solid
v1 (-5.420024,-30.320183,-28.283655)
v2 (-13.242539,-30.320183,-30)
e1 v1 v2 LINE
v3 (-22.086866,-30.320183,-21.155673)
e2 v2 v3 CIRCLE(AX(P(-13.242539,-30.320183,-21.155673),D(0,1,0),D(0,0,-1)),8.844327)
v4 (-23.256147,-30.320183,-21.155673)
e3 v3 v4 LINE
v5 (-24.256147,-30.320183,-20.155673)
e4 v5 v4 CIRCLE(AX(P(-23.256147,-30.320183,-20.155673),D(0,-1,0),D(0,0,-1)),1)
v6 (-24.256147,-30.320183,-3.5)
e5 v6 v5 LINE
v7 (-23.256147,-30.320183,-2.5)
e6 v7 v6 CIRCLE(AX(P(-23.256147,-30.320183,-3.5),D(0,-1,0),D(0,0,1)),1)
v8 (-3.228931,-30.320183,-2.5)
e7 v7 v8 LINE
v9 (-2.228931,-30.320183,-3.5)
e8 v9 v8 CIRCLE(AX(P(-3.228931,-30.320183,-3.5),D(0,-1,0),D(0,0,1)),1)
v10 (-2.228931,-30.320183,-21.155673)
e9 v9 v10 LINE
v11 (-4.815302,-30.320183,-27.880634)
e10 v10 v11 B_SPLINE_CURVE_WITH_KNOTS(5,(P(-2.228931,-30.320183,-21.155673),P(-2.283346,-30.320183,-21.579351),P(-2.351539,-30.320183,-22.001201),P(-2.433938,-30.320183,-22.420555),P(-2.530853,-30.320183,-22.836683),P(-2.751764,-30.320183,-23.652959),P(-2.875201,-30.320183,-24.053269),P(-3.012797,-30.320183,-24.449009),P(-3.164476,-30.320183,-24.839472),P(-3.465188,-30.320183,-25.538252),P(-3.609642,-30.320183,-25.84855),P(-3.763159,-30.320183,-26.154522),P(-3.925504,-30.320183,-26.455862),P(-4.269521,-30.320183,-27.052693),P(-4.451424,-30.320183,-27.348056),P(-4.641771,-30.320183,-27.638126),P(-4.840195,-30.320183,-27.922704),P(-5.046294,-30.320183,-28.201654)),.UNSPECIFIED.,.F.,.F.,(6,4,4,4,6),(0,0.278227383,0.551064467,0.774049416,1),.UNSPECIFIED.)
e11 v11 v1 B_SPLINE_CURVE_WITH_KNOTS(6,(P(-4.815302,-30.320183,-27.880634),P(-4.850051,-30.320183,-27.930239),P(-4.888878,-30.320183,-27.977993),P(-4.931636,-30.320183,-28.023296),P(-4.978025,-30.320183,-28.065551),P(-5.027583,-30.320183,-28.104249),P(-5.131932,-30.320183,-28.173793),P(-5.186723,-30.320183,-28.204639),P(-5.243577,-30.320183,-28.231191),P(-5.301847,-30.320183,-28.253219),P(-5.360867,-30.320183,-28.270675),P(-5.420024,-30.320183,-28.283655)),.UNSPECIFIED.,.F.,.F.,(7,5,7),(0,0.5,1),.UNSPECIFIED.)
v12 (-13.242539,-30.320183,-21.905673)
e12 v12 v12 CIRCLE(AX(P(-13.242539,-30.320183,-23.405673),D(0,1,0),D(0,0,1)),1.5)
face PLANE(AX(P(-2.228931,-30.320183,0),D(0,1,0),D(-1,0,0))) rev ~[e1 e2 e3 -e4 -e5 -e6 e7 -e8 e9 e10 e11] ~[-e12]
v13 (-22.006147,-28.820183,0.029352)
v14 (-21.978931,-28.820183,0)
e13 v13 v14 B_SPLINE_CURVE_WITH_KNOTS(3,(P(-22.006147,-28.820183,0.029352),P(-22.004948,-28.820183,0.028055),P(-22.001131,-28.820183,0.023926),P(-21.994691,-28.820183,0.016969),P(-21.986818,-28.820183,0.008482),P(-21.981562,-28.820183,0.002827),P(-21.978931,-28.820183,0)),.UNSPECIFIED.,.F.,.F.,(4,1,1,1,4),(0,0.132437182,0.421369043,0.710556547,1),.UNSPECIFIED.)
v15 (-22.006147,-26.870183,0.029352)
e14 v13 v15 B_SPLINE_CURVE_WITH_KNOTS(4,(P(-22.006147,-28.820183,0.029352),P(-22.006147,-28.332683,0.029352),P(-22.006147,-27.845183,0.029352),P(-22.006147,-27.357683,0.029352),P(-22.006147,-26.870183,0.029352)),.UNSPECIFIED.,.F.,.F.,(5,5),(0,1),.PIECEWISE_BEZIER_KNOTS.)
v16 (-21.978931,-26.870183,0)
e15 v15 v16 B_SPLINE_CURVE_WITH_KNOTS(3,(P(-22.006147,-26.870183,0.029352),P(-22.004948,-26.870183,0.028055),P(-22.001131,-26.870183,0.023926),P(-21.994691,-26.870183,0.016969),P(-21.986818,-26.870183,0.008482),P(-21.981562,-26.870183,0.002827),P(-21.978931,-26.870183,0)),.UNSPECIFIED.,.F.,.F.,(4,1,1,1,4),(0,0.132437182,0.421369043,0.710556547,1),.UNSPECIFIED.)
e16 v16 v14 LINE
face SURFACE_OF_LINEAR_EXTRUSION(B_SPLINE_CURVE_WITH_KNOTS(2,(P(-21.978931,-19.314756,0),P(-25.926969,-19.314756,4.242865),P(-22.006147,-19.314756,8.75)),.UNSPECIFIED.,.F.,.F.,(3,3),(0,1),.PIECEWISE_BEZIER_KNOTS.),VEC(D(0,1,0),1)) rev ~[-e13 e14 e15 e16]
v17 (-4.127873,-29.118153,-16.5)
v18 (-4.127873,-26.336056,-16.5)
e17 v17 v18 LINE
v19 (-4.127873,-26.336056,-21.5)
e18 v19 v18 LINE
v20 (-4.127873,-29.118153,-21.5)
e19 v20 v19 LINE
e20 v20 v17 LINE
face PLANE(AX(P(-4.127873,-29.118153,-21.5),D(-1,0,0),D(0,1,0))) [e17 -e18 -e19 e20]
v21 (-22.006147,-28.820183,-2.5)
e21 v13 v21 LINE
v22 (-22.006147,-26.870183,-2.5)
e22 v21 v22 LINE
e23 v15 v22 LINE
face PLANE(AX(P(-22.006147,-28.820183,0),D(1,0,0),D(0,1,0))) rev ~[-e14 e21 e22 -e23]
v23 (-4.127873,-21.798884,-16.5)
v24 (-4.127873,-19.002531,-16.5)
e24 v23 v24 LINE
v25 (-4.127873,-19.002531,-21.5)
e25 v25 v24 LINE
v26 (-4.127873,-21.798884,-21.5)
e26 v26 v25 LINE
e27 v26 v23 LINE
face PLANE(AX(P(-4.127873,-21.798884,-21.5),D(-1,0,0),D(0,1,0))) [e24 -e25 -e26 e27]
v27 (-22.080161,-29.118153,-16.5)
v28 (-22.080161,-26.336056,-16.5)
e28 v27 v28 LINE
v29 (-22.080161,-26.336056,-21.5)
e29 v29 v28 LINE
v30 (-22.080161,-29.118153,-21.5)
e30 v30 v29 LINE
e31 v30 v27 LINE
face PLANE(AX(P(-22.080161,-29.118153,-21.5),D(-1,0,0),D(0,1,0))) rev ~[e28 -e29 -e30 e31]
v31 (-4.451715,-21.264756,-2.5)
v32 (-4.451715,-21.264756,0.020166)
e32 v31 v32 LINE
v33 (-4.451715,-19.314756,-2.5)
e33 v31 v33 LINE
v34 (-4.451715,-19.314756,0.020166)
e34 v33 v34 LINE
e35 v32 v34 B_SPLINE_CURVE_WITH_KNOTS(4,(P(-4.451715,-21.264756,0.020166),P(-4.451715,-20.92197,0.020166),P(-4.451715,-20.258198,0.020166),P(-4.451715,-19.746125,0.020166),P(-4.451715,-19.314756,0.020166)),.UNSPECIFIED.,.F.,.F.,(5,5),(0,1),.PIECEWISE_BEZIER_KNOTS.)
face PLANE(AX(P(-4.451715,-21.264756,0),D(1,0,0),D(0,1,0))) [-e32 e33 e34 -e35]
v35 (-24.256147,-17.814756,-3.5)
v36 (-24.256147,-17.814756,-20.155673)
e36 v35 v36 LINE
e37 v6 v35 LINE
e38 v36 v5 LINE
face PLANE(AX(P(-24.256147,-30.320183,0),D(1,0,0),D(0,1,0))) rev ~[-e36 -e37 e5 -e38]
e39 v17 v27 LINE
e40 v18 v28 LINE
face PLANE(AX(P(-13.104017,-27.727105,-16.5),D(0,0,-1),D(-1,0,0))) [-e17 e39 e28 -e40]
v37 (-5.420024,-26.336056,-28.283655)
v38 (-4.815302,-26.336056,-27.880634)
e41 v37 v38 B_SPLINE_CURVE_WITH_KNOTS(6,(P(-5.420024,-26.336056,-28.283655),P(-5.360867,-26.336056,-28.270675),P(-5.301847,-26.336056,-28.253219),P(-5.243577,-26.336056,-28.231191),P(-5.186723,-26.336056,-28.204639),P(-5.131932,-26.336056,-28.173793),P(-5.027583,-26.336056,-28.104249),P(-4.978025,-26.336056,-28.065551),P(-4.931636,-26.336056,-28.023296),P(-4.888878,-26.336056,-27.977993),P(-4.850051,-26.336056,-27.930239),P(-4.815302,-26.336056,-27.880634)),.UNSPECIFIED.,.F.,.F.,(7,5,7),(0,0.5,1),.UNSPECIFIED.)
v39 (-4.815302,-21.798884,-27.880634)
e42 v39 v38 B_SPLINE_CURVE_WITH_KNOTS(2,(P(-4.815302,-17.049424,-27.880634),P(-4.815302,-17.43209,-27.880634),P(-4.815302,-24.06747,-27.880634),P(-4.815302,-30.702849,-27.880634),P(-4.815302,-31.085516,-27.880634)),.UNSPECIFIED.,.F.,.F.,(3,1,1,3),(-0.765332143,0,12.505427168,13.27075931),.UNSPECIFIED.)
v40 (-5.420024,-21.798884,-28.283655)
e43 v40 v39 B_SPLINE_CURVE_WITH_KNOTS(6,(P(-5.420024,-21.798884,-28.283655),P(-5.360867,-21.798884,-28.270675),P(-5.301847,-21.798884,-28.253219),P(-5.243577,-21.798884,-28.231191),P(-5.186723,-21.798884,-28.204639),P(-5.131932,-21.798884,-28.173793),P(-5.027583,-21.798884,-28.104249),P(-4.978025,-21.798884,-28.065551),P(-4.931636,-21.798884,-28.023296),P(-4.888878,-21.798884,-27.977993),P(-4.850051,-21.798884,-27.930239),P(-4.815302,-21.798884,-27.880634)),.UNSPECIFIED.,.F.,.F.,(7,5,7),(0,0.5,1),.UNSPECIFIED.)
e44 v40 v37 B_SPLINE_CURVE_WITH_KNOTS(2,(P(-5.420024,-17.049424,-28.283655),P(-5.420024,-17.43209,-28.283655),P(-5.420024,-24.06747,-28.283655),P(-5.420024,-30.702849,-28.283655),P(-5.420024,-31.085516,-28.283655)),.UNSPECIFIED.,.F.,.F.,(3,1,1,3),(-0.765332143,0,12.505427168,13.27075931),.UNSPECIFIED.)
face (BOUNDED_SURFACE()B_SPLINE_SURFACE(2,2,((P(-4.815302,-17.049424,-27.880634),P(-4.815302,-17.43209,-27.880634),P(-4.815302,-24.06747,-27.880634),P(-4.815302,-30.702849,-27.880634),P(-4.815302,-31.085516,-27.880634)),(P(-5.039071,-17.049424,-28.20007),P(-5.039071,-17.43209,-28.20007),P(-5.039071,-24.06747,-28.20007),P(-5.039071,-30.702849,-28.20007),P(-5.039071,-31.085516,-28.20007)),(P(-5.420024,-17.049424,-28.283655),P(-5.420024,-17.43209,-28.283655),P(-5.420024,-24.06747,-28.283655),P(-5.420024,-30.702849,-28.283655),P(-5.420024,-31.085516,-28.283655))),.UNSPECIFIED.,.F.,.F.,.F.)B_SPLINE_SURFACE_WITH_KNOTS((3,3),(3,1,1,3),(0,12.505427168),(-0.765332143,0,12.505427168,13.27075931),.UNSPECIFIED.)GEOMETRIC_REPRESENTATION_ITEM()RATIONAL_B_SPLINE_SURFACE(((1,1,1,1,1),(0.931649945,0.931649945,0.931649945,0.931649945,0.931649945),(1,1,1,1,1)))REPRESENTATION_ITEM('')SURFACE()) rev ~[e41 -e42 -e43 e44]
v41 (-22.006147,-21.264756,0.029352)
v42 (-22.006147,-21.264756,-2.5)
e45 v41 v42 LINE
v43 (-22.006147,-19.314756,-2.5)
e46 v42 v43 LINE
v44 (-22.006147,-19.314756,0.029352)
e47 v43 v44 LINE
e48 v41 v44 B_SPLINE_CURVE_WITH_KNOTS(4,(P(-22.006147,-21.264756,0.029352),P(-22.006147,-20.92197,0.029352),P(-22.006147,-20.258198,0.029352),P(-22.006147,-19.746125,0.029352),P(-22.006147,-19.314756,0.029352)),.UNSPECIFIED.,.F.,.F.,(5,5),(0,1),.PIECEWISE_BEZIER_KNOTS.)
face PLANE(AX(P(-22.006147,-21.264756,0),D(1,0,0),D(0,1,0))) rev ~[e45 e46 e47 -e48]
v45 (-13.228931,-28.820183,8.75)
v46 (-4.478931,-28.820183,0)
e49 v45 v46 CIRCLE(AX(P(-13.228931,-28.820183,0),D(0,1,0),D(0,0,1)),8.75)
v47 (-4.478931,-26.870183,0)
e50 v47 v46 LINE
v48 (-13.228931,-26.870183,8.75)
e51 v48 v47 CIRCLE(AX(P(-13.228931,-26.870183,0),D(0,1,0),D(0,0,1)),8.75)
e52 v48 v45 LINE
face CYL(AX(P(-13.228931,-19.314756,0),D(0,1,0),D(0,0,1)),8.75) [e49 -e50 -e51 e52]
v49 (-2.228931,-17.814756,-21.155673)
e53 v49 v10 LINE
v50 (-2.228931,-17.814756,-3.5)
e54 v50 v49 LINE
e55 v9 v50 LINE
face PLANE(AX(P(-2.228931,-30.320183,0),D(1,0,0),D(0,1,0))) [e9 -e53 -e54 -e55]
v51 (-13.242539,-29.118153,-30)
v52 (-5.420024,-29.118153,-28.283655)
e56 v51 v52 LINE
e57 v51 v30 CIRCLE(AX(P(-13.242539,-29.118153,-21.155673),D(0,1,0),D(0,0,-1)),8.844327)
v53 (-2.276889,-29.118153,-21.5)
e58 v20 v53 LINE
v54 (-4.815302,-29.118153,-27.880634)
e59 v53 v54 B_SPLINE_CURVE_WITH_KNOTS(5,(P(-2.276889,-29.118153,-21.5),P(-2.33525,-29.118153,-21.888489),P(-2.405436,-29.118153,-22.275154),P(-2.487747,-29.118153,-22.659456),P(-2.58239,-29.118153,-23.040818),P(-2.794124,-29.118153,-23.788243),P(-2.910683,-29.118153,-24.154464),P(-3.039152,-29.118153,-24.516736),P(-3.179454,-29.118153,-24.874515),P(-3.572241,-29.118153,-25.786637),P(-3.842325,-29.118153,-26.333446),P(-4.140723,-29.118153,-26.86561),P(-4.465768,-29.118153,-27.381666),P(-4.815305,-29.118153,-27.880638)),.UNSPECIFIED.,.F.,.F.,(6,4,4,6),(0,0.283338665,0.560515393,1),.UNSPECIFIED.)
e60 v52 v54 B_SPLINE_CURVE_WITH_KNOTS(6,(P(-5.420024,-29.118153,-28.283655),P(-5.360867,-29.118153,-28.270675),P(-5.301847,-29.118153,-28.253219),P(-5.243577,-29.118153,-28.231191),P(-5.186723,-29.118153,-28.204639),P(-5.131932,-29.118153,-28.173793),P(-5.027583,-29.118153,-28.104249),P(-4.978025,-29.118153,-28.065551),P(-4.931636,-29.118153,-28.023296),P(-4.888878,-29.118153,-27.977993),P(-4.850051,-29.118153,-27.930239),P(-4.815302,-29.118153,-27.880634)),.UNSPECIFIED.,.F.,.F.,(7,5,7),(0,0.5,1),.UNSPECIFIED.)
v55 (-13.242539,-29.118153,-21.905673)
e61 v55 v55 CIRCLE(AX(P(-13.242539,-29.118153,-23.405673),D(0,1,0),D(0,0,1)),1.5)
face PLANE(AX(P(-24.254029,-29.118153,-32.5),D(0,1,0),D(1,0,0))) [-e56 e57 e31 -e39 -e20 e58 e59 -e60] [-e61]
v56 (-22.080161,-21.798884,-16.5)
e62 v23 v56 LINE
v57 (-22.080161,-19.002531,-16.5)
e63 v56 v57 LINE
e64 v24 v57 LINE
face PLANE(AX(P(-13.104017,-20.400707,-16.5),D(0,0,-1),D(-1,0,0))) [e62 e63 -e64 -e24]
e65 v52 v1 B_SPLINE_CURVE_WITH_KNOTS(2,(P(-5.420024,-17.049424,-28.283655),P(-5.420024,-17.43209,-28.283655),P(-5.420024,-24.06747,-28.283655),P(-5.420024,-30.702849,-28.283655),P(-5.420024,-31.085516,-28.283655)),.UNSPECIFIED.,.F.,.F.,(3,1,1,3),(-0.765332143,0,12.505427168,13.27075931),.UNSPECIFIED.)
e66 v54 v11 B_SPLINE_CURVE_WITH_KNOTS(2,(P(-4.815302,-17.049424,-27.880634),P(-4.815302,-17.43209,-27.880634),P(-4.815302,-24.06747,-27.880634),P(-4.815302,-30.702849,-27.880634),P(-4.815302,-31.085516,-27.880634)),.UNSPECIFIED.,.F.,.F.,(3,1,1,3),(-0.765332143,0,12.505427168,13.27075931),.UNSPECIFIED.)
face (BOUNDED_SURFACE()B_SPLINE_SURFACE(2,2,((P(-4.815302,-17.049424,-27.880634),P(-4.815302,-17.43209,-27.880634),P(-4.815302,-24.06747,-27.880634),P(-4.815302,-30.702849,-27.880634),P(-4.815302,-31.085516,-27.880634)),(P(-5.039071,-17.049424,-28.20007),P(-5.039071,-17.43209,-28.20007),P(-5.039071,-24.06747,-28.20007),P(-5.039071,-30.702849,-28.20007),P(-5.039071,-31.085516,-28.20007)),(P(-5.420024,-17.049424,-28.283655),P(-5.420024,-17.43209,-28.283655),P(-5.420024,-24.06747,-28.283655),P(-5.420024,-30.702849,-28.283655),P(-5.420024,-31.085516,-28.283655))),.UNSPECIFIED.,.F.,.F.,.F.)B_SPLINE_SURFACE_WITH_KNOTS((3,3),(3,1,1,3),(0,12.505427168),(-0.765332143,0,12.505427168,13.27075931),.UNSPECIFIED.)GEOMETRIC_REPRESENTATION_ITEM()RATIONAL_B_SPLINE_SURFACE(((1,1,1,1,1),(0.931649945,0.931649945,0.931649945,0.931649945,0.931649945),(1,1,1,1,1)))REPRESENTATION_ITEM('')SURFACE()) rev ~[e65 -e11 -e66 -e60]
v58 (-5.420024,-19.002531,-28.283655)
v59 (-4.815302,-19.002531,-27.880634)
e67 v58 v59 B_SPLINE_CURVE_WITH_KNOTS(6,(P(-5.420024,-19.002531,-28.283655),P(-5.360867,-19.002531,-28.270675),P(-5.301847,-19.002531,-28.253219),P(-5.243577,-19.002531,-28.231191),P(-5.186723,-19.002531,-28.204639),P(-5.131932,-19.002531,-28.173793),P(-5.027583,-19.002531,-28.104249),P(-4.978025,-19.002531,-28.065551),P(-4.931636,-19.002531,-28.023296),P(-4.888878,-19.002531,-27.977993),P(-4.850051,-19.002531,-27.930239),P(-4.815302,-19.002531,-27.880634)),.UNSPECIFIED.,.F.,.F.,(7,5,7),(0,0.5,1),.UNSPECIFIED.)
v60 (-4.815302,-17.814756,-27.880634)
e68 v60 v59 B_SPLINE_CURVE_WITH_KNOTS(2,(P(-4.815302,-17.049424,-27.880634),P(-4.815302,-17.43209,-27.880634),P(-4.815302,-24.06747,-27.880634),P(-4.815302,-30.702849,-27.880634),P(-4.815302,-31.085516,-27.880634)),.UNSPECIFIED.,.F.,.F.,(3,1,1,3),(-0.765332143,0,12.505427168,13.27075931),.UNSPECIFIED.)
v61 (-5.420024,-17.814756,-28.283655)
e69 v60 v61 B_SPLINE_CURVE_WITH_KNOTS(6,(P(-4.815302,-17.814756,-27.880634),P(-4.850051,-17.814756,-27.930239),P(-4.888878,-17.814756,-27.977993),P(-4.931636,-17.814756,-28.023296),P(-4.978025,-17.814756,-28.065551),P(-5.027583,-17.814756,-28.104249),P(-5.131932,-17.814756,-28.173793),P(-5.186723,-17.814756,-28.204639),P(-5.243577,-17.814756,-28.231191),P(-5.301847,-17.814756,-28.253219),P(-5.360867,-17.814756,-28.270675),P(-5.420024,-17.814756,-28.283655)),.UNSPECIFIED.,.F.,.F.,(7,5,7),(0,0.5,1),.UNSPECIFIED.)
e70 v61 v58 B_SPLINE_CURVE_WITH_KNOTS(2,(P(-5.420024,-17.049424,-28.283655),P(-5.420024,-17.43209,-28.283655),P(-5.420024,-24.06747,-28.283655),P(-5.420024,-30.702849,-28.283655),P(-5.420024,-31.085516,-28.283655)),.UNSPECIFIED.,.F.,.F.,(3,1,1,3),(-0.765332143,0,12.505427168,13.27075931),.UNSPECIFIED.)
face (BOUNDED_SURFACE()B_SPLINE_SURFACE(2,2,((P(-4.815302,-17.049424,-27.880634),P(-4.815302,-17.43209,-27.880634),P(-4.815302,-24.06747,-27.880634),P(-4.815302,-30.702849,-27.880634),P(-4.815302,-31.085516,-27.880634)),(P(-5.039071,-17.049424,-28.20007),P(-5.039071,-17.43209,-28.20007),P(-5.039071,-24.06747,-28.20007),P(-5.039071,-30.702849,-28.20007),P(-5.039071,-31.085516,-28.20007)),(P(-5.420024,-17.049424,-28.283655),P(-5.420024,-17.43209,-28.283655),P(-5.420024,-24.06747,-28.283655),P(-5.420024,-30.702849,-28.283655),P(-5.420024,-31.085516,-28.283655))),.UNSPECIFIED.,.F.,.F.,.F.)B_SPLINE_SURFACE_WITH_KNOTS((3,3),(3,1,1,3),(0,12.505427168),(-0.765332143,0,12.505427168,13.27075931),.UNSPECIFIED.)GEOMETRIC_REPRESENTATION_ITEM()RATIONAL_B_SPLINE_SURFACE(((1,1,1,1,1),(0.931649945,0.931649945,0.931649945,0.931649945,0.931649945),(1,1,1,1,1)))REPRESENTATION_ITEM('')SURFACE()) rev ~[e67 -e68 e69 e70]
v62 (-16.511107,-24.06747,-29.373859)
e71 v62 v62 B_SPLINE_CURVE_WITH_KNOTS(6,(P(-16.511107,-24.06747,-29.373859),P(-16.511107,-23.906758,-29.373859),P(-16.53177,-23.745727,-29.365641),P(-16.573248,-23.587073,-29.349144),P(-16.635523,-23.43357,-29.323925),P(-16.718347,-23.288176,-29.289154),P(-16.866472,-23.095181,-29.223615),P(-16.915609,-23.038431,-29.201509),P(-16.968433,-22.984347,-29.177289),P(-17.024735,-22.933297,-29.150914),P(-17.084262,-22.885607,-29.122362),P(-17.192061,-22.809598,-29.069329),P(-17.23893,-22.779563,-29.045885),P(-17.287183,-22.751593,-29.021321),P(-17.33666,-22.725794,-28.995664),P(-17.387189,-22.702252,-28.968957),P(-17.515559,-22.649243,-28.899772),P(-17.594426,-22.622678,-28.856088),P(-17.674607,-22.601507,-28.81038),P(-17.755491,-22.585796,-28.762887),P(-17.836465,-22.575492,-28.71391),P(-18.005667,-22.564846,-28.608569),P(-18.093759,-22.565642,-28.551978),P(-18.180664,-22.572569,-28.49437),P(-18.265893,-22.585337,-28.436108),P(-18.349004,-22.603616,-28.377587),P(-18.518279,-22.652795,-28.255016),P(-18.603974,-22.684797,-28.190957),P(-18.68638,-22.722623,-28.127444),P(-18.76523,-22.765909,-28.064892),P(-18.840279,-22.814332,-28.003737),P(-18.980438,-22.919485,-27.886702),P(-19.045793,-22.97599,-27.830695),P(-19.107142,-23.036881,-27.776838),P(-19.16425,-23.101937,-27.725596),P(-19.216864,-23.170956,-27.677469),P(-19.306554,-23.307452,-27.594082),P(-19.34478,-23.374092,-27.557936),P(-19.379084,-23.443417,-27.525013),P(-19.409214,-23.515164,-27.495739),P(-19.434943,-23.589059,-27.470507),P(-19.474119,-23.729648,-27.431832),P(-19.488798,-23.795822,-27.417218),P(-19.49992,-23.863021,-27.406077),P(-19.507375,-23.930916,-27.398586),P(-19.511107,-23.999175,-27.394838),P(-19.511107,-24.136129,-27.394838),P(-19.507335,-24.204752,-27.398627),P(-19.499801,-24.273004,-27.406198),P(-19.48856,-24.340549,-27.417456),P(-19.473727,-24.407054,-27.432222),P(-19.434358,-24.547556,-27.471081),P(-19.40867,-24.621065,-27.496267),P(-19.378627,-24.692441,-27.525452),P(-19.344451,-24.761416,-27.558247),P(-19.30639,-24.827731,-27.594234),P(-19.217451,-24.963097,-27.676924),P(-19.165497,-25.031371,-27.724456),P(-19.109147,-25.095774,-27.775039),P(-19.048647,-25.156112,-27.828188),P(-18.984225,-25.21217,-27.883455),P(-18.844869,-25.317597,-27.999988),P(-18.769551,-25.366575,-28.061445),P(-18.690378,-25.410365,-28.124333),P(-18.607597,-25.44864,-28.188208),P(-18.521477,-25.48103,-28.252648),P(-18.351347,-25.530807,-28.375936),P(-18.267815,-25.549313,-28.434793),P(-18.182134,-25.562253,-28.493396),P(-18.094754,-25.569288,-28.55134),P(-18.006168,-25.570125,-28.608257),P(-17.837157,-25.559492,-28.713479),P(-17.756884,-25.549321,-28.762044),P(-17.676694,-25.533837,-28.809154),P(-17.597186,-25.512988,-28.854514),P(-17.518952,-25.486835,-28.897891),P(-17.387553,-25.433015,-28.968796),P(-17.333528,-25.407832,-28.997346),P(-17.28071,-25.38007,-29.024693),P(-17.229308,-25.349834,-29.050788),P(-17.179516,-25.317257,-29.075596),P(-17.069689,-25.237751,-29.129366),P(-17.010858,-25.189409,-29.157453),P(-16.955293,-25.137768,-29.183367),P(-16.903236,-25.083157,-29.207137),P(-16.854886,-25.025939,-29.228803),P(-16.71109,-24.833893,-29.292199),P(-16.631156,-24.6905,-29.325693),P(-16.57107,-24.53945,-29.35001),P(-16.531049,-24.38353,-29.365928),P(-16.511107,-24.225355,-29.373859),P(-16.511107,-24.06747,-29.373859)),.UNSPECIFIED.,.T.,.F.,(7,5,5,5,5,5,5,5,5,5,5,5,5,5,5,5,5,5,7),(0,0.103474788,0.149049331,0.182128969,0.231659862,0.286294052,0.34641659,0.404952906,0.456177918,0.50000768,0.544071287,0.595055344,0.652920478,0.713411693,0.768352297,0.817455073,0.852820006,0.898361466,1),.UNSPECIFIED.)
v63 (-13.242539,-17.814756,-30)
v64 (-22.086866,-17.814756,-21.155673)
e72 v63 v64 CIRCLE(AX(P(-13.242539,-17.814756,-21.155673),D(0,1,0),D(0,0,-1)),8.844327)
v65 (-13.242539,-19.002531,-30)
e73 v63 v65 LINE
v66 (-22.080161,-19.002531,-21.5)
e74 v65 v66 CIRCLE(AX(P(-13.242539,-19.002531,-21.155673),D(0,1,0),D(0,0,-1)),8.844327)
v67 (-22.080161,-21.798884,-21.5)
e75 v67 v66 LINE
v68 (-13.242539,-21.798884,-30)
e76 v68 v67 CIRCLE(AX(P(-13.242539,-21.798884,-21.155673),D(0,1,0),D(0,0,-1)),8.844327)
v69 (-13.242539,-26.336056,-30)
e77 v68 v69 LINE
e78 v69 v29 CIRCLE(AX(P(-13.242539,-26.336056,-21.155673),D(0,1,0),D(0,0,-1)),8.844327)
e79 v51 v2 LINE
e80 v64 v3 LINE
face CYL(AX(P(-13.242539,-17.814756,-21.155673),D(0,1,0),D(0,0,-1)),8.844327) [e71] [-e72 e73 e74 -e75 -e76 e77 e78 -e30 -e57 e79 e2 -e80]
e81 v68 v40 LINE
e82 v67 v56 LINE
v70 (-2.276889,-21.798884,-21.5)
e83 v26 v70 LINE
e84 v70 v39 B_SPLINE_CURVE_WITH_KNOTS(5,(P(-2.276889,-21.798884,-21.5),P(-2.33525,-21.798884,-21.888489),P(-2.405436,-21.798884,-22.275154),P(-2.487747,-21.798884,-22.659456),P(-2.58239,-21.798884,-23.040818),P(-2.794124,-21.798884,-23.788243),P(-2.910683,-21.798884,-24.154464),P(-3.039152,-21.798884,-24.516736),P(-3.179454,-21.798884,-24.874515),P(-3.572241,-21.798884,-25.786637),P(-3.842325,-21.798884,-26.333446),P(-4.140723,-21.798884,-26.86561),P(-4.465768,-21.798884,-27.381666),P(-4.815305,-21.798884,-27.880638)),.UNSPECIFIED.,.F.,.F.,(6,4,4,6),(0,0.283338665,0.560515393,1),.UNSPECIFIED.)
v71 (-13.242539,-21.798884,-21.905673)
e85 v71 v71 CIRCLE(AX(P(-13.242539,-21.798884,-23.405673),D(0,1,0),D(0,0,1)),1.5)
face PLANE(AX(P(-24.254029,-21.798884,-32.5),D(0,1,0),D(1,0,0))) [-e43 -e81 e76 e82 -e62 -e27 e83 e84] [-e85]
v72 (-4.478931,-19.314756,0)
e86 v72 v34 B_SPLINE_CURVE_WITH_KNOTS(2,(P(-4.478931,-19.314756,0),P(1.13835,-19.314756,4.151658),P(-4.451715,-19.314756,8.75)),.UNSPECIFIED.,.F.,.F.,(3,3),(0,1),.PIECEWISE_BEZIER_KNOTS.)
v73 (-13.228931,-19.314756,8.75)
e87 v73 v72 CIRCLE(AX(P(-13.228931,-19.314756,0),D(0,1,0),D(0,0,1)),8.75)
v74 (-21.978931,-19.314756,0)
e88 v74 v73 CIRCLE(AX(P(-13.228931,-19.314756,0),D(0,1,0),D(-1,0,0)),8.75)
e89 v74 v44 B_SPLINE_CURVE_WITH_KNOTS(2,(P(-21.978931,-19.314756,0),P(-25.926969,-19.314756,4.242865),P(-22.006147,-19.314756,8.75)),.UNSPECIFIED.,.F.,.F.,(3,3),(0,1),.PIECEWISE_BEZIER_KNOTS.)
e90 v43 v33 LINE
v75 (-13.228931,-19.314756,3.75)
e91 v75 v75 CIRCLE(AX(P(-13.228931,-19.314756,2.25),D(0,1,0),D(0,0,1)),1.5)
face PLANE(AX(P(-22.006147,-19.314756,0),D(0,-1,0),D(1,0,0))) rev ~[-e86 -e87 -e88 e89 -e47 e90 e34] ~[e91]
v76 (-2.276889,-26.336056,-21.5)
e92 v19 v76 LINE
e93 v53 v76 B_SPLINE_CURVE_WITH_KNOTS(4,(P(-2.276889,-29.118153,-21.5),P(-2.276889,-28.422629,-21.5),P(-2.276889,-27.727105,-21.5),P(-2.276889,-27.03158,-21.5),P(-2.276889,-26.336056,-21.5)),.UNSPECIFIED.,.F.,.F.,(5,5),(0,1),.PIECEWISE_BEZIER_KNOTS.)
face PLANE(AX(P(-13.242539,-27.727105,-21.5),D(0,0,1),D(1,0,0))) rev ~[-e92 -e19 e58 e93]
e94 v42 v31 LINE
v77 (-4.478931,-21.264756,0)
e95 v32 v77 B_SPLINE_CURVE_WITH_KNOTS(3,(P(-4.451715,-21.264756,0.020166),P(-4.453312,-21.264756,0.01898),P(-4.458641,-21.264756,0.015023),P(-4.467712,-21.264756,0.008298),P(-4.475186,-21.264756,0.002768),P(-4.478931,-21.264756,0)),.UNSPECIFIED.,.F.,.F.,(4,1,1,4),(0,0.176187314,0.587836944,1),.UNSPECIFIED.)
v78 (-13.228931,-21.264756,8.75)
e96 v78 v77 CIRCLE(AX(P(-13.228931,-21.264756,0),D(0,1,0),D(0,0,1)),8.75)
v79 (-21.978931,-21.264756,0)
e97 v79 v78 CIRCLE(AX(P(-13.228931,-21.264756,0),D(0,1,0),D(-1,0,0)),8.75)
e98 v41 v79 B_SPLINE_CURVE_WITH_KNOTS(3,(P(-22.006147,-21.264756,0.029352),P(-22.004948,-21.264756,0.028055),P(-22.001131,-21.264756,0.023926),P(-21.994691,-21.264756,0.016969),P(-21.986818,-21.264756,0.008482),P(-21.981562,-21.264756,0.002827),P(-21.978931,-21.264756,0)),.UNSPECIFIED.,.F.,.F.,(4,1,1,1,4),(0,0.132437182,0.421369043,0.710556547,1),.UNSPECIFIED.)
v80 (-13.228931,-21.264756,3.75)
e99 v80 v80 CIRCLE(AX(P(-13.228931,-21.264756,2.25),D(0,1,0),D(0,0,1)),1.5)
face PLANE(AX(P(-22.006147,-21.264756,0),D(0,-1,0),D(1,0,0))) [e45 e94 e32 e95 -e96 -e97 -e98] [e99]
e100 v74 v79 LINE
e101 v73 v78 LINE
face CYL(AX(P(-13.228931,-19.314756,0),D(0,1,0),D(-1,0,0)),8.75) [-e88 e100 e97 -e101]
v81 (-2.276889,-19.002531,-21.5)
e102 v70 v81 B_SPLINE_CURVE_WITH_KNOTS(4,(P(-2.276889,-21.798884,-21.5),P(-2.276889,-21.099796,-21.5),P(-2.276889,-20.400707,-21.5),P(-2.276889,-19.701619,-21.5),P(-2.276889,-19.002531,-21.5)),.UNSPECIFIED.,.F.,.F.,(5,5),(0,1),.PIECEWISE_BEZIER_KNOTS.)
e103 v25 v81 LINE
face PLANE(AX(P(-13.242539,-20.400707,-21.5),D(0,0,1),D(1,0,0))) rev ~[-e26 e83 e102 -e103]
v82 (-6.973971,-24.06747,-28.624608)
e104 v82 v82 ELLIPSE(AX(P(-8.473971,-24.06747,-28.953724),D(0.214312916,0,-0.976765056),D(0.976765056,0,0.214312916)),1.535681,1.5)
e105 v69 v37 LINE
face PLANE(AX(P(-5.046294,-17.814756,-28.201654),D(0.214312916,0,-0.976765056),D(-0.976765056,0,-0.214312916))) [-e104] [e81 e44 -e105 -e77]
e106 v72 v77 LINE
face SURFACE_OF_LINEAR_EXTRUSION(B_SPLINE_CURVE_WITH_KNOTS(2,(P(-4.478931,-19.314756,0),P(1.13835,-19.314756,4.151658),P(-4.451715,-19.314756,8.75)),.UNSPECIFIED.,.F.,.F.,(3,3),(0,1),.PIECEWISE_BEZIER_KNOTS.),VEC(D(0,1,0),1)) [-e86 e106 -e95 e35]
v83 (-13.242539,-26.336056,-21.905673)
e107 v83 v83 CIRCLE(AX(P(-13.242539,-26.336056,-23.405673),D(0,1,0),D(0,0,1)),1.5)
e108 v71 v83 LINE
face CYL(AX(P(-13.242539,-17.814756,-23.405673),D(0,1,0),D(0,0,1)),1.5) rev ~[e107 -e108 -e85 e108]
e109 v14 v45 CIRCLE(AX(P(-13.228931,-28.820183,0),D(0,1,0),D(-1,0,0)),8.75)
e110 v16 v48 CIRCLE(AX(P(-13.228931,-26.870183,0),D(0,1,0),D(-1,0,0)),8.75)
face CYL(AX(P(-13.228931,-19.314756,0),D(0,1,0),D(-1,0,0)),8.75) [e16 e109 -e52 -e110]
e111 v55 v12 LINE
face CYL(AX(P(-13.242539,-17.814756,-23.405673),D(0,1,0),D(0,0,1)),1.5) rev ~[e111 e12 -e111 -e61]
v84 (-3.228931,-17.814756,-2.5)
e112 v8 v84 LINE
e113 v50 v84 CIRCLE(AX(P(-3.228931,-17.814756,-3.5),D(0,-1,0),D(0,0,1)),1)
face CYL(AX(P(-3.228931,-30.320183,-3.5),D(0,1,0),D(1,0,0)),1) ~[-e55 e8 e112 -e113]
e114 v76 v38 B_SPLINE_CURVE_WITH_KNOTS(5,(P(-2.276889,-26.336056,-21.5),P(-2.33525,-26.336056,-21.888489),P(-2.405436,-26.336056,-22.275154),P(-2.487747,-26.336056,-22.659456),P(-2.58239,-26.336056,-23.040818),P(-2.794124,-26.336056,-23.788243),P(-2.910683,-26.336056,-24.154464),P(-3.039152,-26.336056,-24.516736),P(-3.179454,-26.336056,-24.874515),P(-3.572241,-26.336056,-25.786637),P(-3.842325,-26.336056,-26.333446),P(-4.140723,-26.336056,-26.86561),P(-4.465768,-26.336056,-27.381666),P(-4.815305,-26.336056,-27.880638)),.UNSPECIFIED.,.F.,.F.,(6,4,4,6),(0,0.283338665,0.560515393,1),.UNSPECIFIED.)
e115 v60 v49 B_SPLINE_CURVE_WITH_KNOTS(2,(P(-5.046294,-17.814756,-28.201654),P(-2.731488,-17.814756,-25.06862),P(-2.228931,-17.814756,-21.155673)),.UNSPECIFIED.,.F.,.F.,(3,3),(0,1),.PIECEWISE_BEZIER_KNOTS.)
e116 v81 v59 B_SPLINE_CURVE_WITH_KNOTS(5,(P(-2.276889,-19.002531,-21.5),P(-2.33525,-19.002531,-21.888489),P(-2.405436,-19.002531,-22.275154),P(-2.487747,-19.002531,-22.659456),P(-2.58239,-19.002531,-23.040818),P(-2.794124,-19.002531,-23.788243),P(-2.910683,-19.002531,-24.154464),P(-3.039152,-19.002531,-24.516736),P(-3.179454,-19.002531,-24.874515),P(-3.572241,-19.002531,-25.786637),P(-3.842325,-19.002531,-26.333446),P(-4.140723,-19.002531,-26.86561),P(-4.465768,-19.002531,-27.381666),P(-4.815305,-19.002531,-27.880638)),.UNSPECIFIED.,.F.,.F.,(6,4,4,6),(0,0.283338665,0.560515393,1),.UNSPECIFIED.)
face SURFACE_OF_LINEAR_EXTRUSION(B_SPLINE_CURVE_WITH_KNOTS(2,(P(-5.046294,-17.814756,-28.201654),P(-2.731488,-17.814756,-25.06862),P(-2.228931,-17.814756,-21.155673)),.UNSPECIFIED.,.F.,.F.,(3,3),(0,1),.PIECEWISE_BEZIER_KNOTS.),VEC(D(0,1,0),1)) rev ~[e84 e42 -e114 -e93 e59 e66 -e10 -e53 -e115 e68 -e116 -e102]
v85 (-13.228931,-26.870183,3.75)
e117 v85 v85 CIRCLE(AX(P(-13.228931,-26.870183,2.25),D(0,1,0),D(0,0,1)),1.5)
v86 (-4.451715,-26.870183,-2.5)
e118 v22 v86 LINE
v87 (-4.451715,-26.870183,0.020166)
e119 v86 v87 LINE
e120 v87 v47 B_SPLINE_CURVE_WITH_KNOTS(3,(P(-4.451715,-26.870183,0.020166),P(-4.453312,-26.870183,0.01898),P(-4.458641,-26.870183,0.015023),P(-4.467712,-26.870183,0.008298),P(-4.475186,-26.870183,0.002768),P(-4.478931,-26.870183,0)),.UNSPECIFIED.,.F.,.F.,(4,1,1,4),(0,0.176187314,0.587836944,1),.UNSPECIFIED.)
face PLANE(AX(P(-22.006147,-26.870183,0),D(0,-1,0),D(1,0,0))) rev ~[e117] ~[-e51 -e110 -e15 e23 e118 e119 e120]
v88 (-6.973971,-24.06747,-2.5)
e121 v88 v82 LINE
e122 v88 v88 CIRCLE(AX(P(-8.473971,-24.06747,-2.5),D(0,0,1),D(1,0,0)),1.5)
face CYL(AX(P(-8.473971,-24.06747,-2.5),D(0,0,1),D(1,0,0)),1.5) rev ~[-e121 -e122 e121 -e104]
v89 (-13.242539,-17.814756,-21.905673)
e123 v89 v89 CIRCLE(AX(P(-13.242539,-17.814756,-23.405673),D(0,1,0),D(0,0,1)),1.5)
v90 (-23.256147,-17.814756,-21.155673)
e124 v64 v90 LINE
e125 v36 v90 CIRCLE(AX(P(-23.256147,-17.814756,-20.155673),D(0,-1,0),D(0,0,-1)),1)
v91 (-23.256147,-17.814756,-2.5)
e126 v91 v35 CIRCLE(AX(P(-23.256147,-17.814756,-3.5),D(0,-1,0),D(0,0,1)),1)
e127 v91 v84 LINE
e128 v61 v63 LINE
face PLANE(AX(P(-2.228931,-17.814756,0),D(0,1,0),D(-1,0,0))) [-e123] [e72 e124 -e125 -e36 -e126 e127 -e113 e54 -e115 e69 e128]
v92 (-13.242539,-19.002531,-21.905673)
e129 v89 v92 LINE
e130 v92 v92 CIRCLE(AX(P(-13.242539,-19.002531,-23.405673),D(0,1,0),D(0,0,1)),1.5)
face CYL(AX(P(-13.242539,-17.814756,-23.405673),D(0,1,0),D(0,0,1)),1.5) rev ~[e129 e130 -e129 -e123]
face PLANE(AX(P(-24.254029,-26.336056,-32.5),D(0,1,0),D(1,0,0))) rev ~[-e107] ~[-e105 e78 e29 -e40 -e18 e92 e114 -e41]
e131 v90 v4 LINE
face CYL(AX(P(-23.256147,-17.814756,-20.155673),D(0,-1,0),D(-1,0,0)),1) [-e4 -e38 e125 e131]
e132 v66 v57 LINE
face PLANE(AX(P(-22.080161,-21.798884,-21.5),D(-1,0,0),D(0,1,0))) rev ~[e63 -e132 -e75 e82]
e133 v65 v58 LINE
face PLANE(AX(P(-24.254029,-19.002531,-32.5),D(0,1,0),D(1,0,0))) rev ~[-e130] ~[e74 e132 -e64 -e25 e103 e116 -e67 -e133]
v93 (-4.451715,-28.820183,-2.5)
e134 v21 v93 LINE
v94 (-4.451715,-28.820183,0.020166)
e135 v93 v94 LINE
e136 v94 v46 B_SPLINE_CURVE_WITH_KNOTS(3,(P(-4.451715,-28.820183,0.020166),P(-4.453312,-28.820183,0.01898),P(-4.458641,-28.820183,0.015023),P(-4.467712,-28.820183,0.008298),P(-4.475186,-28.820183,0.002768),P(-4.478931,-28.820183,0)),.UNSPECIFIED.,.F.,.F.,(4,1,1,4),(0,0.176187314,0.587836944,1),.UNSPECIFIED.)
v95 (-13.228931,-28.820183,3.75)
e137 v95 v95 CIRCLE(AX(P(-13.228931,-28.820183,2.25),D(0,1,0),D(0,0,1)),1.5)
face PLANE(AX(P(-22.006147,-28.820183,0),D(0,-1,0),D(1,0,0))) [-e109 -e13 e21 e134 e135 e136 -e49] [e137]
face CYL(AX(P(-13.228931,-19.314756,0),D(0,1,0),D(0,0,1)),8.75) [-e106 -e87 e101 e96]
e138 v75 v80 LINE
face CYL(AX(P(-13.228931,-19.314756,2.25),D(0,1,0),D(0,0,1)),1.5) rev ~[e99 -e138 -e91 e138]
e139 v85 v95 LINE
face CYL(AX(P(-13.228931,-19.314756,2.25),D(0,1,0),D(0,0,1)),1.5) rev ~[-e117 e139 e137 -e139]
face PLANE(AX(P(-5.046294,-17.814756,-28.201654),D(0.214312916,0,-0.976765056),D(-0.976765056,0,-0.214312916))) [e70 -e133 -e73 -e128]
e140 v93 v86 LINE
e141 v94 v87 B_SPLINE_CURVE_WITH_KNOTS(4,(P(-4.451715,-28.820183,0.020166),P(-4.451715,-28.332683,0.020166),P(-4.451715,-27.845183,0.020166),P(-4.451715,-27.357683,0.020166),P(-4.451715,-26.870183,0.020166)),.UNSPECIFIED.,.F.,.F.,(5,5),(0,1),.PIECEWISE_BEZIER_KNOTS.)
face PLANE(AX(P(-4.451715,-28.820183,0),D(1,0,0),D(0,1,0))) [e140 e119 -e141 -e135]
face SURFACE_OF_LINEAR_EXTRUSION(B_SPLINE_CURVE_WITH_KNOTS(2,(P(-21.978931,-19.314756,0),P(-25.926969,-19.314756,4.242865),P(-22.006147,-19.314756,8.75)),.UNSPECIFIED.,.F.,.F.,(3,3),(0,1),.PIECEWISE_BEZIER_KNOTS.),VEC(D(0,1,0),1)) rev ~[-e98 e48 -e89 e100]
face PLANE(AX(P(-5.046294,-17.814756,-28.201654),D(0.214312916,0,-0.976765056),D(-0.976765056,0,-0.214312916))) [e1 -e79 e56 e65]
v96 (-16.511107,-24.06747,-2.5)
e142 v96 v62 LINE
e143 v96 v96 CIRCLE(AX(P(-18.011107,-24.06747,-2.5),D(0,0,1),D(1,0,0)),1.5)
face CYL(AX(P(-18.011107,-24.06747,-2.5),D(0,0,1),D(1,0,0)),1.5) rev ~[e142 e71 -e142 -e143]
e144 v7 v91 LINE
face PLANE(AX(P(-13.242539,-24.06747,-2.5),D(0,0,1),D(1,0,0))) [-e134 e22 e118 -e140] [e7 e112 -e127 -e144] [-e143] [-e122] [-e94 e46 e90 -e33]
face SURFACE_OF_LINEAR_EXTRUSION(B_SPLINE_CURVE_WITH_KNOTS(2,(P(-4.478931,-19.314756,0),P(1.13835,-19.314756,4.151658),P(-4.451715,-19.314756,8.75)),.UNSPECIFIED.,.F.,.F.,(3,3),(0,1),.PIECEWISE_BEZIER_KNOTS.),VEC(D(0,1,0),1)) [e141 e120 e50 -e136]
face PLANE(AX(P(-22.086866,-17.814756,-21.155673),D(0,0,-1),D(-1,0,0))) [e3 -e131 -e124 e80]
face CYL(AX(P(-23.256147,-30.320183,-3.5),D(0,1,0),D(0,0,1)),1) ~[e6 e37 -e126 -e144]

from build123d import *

# Parameters (mm, degrees)
SKETCH2_W             = 17.554431489
SKETCH2_H             = 1.95
BOSS_EXTRUDE1_DEPTH   = 8.75
BOSS_EXTRUDE1_2_DEPTH = 8.75
CUT_EXTRUDE1_DEPTH    = 26.518349076
SKETCH4_W             = 22.027215745
SKETCH4_H             = 12.505427167
BOSS_EXTRUDE2_DEPTH   = 30
SKETCH5_R             = 1.5
CUT_EXTRUDE2_DEPTH    = 12
SKETCH6_W             = 22.027215745
SKETCH6_H             = 12.505427167
SKETCH6_W_2           = 17.554431489
SKETCH6_H_2           = 1.95
CUT_EXTRUDE3_DEPTH    = 2.5
SKETCH7_R             = 1.5
CUT_EXTRUDE4_DEPTH    = 13
SKETCH8_R             = 1.5
CUT_EXTRUDE5_DEPTH    = 28
FILLET3_R             = 1
SKETCH9_W             = 22.022981174
SKETCH9_H             = 2.796352896
SKETCH9_H_2           = 2.782097604
CUT_EXTRUDE6_DEPTH    = 11
SKETCH10_W            = 17.952287352
SKETCH10_H            = 2.796352896
SKETCH10_H_2          = 2.782097604
CUT_EXTRUDE7_DEPTH    = 5


with BuildPart() as part:
    # Sketch2 → Boss-Extrude1 (new body)
    with BuildSketch(Plane.XY):
        with Locations((-13.228930986, -27.845183414)):
            Rectangle(SKETCH2_W, SKETCH2_H)
    extrude(amount=BOSS_EXTRUDE1_DEPTH)


with BuildPart() as body_2:
    # Sketch2 → Boss-Extrude1 2 (new body)
    with BuildSketch(Plane.XY):
        with Locations((-13.228930986, -20.289756247)):
            Rectangle(SKETCH2_W, SKETCH2_H)
    extrude(amount=BOSS_EXTRUDE1_2_DEPTH)


with BuildPart() as cut_extrude1_tool:
    # Sketch3 → Cut-Extrude1 (new, through all)
    with BuildSketch(Plane(origin=(0, -19.314756247, 0), x_dir=(1, 0, 0), z_dir=(0, 1, 0))):
        with BuildLine():
            ThreePointArc((-13.228930986, -8.75), (-7.041746651, -6.187184335), (-4.478930986, 0))
            add(Edge.make_bspline(
                [(-4.478930986, 0), (1.138349918, -4.151657709), (-4.451715242, -8.75)],
                knots=[0, 0, 0, 1, 1, 1], degree=2))
            add(Edge.make_bspline(
                [(-22.006146731, -8.75), (-13.228930986, -12.473510392), (-4.451715242, -8.75)],
                knots=[0, 0, 0, 1, 1, 1], degree=2))
            add(Edge.make_bspline(
                [(-21.978930986, 0), (-25.926969228, -4.242865138), (-22.006146731, -8.75)],
                knots=[0, 0, 0, 1, 1, 1], degree=2))
            ThreePointArc((-21.978930986, 0), (-19.416115322, -6.187184335), (-13.228930986, -8.75))
        make_face()
    extrude(amount=-CUT_EXTRUDE1_DEPTH)


with BuildPart() as part_1:
    add(part.part)

    # Cut-Extrude1: cut by cut_extrude1_tool
    add(cut_extrude1_tool.part, mode=Mode.SUBTRACT)



with BuildPart() as body_2_1:
    add(body_2.part)

    # Cut-Extrude1: cut by cut_extrude1_tool
    add(cut_extrude1_tool.part, mode=Mode.SUBTRACT)


with BuildPart() as part_2:
    add(part_1.part)

    add(body_2_1.part)  # Boss-Extrude2 merges body 2
    # Sketch4 → Boss-Extrude2 (add)
    with BuildSketch(Plane(origin=(0, 0, 0), x_dir=(-1, 0, 0), z_dir=(0, 0, -1))):
        with Locations((13.242538859, -24.067469831)):
            Rectangle(SKETCH4_W, SKETCH4_H)
    extrude(amount=BOSS_EXTRUDE2_DEPTH)

    # Sketch5 → Cut-Extrude2 (cut)
    with BuildSketch(Plane(origin=(0, -19.314756247, 0), x_dir=(1, 0, 0), z_dir=(0, 1, 0))):
        with Locations(Location((-13.228930986, -2.25, 0), (0, 0, 270))):
            Circle(SKETCH5_R)
    extrude(amount=-CUT_EXTRUDE2_DEPTH, mode=Mode.SUBTRACT)

    # Sketch6 → Cut-Extrude3 (cut)
    with BuildSketch(Plane.XY):
        with Locations((-13.242538859, -24.067469831)):
            Rectangle(SKETCH6_W, SKETCH6_H)
        with Locations((-13.228930986, -27.845183414)):
            Rectangle(SKETCH6_W_2, SKETCH6_H_2, mode=Mode.SUBTRACT)
        with Locations((-13.228930986, -20.289756247)):
            Rectangle(SKETCH6_W_2, SKETCH6_H_2, mode=Mode.SUBTRACT)
    extrude(amount=-CUT_EXTRUDE3_DEPTH, mode=Mode.SUBTRACT)

    # Sketch7 → Cut-Extrude4 (cut)
    with BuildSketch(Plane(origin=(0, -17.814756247, 0), x_dir=(1, 0, 0), z_dir=(0, 1, 0))):
        with Locations(Location((-13.242538859, 23.405672985, 0), (0, 0, 270))):
            Circle(SKETCH7_R)
        with BuildLine():
            Line((-22.086865874, 21.155672985), (-24.256146731, 21.155672985))
            add(Edge.make_bspline(
                [(-2.228930986, 21.155672985), (11.471530889, 27.189710441), (-11.765166974, 53.431279988), (-37.007876173, 21.523583672), (-24.256146731, 21.155672985)],
                knots=[0, 0, 0, 0, 0.52011282, 1, 1, 1, 1], degree=3))
            add(Edge.make_bspline(
                [(-5.046294073, 28.201654423), (-2.731488374, 25.068620188), (-2.228930986, 21.155672985)],
                knots=[0, 0, 0, 1, 1, 1], degree=2))
            Line((-5.046294073, 28.201654423), (-13.242538859, 30))
            ThreePointArc((-13.242538859, 30), (-19.496422466, 27.409556592), (-22.086865874, 21.155672985))
        make_face()
    extrude(amount=-CUT_EXTRUDE4_DEPTH, mode=Mode.SUBTRACT)

    # Sketch8 → Cut-Extrude5 (cut)
    with BuildSketch(Plane.XY.offset(-2.5)):
        with Locations((-18.011106811, -24.06746983)):
            Circle(SKETCH8_R)
        with Locations((-8.473970906, -24.06746983)):
            Circle(SKETCH8_R)
    extrude(amount=-CUT_EXTRUDE5_DEPTH, mode=Mode.SUBTRACT)

    # Fillet3
    fillet3_edges = [part_2.edges().sort_by_distance(p)[0] for p in [
        (-24.256146731, -24.06746983, -2.5),
        (-24.256146731, -24.06746983, -21.155672985),
        (-2.228930986, -24.06746983, -2.5),
        (-5.046294073, -24.06746983, -28.201654423),
    ]]
    fillet(fillet3_edges, radius=FILLET3_R)

    # Sketch9 → Cut-Extrude6 (cut)
    with BuildSketch(Plane.XY.offset(-32.5)):
        with Locations((-13.24253886, -20.400707387)):
            Rectangle(SKETCH9_W, SKETCH9_H)
        with Locations((-13.24253886, -27.727104636)):
            Rectangle(SKETCH9_W, SKETCH9_H_2)
    extrude(amount=CUT_EXTRUDE6_DEPTH, mode=Mode.SUBTRACT)

    # Sketch10 → Cut-Extrude7 (cut)
    with BuildSketch(Plane(origin=(0, 0, -21.5), x_dir=(-1, 0, 0), z_dir=(0, 0, -1))):
        with Locations((13.104016993, -20.400707387)):
            Rectangle(SKETCH10_W, SKETCH10_H)
        with Locations((13.104016993, -27.727104636)):
            Rectangle(SKETCH10_W, SKETCH10_H_2)
    extrude(amount=-CUT_EXTRUDE7_DEPTH, mode=Mode.SUBTRACT)


solid = part_2.part
